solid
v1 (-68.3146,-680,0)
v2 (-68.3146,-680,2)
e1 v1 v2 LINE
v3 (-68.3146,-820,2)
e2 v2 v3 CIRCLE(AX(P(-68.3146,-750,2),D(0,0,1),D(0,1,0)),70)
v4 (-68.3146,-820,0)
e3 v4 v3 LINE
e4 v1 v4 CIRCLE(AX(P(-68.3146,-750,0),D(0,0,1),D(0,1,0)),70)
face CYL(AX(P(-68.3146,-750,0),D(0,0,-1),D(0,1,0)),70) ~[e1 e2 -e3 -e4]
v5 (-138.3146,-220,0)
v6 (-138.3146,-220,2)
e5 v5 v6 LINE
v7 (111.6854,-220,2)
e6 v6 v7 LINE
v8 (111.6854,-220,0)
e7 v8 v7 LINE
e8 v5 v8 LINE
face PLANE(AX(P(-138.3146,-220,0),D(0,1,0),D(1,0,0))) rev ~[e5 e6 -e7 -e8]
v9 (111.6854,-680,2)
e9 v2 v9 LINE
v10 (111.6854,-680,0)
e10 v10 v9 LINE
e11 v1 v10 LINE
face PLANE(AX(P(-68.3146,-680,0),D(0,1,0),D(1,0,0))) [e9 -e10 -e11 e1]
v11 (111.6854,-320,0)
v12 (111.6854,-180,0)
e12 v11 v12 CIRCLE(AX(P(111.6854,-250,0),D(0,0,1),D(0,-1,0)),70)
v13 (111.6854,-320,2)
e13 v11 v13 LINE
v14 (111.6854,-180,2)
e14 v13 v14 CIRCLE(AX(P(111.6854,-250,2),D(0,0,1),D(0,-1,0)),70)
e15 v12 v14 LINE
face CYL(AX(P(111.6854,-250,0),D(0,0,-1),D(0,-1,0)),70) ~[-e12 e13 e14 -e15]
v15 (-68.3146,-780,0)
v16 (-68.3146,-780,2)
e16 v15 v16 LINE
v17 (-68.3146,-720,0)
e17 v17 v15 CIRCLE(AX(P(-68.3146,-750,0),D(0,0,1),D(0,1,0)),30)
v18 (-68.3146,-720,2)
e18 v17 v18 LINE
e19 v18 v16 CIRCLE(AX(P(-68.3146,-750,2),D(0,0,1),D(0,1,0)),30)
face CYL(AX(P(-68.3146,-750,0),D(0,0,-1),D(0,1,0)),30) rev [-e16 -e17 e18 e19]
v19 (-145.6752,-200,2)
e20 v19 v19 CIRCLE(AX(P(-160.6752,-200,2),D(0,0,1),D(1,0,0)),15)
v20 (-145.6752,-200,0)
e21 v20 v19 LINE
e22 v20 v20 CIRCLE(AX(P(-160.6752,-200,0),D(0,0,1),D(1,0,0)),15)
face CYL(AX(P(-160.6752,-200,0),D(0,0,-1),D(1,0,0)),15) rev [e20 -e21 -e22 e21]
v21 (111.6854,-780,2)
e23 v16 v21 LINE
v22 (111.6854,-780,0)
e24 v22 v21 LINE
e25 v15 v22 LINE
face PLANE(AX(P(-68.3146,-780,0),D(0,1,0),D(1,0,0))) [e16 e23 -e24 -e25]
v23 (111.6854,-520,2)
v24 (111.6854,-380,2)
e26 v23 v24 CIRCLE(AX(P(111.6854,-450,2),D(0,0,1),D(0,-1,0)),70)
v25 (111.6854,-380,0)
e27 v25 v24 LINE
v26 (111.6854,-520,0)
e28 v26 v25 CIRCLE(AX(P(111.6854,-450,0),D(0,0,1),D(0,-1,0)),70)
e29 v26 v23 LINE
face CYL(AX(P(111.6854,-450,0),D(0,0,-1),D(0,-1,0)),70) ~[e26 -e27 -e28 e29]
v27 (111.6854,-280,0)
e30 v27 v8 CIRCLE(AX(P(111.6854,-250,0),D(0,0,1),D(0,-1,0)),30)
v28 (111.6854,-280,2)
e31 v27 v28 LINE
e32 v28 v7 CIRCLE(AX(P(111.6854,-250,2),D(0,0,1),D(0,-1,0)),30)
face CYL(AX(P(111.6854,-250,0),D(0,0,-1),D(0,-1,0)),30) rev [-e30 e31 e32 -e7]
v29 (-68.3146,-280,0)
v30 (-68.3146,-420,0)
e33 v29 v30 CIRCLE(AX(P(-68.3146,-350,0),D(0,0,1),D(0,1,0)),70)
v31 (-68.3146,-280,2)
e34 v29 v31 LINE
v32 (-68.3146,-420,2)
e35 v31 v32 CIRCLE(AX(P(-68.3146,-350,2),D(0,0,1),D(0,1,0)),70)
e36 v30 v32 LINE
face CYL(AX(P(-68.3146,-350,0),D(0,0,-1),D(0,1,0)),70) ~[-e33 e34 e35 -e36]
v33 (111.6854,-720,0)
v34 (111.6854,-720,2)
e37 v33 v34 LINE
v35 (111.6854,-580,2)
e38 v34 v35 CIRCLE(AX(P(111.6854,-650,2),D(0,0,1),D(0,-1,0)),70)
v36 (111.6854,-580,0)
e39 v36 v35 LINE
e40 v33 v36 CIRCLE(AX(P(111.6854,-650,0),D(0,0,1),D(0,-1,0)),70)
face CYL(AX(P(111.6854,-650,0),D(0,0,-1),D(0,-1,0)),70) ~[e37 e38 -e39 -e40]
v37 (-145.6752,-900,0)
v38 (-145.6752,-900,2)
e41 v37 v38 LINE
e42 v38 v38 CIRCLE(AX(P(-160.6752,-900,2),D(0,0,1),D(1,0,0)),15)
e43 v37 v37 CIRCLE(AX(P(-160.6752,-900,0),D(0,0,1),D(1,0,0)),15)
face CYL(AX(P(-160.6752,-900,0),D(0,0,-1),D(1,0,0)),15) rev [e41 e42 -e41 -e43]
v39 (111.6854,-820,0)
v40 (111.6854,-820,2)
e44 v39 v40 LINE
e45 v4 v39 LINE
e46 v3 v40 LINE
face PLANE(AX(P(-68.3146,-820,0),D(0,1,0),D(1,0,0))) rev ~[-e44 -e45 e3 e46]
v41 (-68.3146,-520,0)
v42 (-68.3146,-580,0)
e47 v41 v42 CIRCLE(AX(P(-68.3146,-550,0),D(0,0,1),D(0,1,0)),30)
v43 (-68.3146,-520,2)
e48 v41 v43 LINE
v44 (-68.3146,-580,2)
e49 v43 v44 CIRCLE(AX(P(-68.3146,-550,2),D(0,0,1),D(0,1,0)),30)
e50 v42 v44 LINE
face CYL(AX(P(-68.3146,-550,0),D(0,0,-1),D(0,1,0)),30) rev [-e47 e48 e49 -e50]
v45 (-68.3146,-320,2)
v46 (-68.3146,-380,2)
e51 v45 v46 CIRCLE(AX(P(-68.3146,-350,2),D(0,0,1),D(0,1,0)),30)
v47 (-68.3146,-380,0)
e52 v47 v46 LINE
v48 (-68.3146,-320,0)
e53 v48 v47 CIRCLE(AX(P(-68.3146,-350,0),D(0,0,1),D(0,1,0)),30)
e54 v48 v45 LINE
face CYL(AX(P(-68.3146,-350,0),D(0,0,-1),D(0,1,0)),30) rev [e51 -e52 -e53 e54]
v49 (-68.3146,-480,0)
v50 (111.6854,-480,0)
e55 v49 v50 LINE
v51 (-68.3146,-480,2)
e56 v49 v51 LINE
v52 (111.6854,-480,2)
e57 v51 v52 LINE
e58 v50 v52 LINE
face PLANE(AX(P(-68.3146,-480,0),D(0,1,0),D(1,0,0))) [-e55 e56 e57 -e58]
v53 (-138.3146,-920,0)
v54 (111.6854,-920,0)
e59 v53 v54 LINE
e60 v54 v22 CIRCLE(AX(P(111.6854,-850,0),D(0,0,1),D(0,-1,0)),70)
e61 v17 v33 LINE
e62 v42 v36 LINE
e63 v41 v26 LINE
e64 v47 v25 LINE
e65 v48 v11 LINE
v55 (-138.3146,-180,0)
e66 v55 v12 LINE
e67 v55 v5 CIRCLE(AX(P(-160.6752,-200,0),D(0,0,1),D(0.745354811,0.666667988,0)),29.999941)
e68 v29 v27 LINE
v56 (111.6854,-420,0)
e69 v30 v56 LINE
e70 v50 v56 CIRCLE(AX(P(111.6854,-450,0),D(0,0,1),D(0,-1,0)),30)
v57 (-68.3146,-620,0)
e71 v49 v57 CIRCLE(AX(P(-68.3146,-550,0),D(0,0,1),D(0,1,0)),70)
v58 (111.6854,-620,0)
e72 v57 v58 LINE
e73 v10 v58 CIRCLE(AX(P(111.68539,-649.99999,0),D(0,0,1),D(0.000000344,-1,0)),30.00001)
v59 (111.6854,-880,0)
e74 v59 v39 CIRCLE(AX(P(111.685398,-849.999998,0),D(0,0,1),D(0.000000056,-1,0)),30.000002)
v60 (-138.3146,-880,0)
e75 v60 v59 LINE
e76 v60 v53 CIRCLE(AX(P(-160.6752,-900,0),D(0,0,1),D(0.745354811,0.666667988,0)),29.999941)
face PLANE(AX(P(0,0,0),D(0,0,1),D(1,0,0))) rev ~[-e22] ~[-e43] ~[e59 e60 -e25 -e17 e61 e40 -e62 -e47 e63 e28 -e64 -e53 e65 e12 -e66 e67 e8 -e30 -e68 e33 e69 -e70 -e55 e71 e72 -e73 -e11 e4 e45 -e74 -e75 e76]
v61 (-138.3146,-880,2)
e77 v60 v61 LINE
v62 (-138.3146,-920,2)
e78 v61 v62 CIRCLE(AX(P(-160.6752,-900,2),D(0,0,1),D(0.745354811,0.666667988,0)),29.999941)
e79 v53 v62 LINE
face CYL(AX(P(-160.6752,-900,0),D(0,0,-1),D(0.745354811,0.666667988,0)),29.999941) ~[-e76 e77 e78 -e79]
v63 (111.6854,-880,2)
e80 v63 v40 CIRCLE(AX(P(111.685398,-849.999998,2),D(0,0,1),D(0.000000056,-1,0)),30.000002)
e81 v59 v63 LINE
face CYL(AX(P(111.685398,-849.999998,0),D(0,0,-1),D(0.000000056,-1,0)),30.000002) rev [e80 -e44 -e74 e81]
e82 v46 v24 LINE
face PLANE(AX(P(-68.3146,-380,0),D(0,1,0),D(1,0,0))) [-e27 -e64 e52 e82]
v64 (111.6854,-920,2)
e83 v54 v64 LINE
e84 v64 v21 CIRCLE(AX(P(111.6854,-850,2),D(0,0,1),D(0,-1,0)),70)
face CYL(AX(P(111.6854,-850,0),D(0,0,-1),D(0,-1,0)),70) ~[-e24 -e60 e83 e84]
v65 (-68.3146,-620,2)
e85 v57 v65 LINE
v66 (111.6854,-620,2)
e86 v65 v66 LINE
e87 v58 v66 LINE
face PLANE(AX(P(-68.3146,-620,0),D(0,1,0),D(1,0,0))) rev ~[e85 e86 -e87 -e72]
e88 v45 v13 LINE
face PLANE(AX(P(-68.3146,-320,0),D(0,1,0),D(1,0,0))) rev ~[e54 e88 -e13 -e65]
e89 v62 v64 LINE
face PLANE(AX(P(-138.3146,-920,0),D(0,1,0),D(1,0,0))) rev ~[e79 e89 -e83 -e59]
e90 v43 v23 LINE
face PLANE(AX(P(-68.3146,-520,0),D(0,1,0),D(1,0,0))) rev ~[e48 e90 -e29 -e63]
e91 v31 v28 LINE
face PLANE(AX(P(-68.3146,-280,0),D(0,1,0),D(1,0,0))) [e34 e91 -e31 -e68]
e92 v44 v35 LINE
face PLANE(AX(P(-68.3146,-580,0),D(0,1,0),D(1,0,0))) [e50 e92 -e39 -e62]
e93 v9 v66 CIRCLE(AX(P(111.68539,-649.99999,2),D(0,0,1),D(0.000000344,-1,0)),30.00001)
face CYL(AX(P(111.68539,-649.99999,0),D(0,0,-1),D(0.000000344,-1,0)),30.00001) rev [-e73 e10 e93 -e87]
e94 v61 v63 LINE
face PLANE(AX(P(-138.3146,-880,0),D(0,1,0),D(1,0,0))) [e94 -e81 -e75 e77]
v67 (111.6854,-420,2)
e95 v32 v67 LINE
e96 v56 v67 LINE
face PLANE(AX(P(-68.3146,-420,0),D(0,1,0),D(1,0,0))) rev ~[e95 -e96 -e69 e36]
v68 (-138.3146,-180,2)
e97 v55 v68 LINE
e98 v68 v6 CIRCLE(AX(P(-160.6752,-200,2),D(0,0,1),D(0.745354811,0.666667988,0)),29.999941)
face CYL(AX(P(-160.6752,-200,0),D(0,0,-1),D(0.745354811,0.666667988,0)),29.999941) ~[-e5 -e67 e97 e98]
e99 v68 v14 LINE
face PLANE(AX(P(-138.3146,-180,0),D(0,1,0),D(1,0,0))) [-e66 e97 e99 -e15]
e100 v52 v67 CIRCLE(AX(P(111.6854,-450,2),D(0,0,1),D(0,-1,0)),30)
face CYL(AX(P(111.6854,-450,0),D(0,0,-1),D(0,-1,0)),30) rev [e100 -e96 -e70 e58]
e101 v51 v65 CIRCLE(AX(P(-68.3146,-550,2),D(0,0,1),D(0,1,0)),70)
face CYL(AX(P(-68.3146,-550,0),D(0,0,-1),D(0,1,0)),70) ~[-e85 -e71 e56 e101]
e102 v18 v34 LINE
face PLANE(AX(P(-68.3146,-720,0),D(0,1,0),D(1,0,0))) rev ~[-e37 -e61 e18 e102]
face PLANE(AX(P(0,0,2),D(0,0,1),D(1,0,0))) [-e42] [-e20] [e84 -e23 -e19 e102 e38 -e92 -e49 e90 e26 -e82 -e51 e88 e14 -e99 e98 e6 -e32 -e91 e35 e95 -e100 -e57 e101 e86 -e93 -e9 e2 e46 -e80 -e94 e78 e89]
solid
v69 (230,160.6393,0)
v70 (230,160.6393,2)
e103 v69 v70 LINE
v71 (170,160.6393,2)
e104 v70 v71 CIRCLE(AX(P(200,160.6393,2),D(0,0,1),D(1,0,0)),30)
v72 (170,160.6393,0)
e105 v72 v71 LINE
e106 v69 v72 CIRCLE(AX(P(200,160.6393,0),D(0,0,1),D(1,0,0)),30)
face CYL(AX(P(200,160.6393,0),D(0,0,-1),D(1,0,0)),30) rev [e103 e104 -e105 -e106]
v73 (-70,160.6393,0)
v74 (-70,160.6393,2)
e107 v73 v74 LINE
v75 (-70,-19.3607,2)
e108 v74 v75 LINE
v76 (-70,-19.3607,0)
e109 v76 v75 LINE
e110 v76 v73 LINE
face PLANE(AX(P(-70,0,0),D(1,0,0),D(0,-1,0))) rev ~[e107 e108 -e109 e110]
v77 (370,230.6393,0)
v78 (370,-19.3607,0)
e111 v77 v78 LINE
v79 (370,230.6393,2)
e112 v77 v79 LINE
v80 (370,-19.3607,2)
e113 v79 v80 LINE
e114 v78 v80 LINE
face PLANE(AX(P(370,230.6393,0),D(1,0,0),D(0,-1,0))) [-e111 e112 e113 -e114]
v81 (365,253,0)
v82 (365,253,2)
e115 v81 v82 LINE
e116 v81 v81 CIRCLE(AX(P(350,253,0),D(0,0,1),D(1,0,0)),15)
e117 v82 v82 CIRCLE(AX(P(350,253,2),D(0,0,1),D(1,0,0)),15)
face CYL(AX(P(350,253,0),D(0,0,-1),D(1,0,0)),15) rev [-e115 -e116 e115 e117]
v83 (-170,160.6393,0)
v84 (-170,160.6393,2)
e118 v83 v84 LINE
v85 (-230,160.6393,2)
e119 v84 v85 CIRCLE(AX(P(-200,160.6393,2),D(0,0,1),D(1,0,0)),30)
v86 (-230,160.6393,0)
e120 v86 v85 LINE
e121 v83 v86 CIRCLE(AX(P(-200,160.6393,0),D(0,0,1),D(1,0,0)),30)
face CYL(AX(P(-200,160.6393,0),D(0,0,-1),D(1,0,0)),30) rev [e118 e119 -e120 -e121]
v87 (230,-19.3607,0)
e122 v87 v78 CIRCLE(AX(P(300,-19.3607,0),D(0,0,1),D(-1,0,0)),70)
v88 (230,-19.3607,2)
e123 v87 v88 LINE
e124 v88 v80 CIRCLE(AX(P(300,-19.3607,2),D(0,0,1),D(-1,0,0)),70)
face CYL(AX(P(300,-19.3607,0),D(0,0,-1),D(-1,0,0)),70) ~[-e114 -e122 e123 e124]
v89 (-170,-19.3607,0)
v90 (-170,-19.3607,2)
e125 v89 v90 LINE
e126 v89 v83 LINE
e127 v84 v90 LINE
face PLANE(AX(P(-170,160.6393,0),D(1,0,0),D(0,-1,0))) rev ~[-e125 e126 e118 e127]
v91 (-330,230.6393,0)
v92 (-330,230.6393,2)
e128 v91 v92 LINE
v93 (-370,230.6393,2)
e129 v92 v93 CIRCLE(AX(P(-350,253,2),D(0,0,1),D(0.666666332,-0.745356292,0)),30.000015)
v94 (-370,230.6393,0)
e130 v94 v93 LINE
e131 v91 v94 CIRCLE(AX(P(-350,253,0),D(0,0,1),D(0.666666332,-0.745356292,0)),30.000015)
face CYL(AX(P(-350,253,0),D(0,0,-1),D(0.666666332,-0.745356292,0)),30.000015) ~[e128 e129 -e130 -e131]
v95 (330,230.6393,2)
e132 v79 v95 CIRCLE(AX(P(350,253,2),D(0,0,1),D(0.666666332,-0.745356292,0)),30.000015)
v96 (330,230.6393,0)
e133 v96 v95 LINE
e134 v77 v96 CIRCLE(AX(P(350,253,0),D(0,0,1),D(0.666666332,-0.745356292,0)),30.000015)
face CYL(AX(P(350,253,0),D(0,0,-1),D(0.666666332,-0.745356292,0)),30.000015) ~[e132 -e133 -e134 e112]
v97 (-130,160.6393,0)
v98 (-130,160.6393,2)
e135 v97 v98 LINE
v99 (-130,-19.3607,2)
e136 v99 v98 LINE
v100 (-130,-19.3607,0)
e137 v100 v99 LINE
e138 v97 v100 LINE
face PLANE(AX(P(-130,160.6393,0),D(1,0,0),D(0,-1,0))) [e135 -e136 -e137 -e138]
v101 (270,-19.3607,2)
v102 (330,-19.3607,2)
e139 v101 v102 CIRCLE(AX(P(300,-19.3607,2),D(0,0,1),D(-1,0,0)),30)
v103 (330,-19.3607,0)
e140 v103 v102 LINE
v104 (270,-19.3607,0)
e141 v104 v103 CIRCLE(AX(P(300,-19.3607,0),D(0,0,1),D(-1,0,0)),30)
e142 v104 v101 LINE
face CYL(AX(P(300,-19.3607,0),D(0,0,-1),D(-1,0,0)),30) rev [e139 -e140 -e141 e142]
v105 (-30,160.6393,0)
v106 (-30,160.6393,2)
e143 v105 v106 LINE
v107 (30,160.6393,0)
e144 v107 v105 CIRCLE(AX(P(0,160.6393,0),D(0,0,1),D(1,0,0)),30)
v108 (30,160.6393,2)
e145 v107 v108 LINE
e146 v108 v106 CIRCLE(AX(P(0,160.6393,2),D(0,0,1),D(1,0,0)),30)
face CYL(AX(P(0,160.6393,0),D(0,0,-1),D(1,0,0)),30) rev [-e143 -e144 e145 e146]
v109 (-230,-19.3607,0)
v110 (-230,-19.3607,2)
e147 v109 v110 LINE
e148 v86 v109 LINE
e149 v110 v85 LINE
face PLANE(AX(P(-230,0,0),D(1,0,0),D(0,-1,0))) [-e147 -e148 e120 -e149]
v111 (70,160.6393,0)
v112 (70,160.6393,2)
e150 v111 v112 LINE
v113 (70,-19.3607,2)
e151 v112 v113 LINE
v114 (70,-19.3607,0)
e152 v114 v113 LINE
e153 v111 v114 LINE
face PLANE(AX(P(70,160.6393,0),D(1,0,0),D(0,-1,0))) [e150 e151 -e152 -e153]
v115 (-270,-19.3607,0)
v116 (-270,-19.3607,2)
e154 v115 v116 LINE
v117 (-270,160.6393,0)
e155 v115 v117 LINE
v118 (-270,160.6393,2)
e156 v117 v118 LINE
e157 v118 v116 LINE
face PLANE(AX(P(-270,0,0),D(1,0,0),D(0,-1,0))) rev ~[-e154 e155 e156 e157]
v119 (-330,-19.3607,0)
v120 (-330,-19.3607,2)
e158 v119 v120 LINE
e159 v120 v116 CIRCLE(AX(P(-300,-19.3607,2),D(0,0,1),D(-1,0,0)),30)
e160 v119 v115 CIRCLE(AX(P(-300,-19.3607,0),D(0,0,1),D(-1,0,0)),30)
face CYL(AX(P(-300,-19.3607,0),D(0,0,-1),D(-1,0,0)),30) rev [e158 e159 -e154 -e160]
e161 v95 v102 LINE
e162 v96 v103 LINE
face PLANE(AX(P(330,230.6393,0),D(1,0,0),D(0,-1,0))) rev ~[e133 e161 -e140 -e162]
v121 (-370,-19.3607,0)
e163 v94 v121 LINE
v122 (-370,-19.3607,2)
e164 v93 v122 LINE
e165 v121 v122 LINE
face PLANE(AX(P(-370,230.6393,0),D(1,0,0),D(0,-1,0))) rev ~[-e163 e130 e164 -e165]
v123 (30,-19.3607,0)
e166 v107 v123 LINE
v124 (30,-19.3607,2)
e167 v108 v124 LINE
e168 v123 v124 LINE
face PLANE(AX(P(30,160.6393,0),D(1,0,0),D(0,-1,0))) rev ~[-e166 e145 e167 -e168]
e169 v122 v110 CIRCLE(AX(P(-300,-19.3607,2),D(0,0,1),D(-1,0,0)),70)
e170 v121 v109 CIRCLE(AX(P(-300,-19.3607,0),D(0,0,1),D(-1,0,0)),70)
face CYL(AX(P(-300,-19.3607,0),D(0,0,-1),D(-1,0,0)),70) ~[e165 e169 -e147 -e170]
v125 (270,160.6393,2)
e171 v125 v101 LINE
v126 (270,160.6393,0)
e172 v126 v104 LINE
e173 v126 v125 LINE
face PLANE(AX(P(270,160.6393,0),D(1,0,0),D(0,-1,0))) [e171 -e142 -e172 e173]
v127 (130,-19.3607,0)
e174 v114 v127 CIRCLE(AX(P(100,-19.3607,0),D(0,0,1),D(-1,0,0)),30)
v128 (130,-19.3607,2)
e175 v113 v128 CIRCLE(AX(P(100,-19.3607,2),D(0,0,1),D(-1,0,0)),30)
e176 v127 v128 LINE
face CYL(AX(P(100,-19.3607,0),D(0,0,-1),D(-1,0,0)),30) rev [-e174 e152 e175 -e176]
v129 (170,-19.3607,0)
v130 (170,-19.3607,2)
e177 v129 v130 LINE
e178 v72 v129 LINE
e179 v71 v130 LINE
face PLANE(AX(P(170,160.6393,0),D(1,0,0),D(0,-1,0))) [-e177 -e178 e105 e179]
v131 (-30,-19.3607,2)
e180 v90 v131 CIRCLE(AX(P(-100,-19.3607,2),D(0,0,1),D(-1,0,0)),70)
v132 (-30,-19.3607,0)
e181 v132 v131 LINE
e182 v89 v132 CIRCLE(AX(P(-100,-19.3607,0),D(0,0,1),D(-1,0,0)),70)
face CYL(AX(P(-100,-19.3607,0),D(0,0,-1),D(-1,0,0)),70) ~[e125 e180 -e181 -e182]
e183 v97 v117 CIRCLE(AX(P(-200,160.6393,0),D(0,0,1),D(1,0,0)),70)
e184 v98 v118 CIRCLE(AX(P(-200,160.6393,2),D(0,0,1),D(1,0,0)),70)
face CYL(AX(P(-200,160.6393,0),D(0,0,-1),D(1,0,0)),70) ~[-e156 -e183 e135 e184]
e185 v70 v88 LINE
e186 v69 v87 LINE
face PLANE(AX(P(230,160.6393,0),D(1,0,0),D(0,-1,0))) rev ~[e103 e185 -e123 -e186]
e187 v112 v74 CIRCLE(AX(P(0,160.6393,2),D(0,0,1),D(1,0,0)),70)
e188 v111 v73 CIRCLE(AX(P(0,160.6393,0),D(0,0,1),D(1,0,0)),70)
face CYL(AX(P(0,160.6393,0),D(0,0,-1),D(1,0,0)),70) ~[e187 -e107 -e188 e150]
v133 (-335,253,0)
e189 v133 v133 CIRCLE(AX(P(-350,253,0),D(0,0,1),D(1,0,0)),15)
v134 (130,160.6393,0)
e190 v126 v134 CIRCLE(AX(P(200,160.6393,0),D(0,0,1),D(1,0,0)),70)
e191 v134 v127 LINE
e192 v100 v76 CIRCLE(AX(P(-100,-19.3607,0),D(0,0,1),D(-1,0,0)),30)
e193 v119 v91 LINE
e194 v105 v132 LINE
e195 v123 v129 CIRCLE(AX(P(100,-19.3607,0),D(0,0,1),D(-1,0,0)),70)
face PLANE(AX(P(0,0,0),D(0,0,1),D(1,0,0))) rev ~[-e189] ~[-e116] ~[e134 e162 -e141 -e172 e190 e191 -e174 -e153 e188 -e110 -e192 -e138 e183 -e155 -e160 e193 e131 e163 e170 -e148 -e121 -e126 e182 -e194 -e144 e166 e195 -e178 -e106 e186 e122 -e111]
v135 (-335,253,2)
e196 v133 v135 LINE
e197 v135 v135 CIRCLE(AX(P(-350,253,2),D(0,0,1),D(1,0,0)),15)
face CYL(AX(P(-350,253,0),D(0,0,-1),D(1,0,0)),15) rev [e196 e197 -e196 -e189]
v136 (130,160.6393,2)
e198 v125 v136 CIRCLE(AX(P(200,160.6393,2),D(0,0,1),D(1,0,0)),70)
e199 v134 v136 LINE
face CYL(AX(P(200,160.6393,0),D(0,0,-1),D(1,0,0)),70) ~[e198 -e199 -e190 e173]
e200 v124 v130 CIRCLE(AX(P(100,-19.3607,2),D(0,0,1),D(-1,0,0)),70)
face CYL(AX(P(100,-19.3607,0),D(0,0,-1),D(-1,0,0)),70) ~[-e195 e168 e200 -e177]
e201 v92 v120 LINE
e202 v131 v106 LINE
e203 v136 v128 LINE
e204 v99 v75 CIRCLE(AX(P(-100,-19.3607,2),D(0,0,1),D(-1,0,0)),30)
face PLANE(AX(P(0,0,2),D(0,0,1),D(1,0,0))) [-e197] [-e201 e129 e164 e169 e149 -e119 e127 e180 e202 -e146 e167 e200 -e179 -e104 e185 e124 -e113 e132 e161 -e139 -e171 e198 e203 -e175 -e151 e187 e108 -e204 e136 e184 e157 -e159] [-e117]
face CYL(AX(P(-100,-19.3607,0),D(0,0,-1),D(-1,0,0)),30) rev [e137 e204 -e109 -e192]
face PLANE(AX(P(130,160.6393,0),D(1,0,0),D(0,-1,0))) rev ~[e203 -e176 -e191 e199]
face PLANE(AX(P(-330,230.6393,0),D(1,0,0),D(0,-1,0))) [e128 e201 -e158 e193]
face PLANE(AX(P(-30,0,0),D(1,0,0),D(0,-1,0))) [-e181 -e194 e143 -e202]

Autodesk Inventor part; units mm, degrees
ref_plane "YZ Plane" through (0, 0, 0) normal (1, 0, 0) x (0, 1, 0)
ref_plane "XZ Plane" through (0, 0, 0) normal (0, 1, 0) x (-1, 0, 0)
ref_plane "XY Plane" through (0, 0, 0) normal (0, 0, 1) x (1, 0, 0)
sketch "Esboço1" plane through (0, 0, 0) normal (0, 0, 1) x (1, 0, 0)
  circle A0 centre (-350, 253) radius 30 construction
  line L0 (0, 0) -> (0, 0) construction
  line L1 (0, 0) -> (0, 0) construction
  circle A1 centre (-350, 253) radius 15
  line L2 (-370, 230.6393) -> (-370, -19.3607)
  line L3 (-330, 230.6393) -> (-330, -19.3607)
  arc A2 (-330, 230.6393) -> (-370, 230.6393) centre (-350, 253) ccw
  circle A3 centre (-300, -19.3607) radius 30 construction
  line L4 (-270, 160.6393) -> (-270, -19.3607)
  line L5 (-230, 160.6393) -> (-230, -19.3607)
  circle A4 centre (-300, -19.3607) radius 70 construction
  arc A5 (-370, -19.3607) -> (-230, -19.3607) centre (-300, -19.3607) ccw
  arc A6 (-330, -19.3607) -> (-270, -19.3607) centre (-300, -19.3607) ccw
  line L6 (-330, 230.6393) -> (0, 230.6393) construction
  circle A7 centre (-200, 160.6393) radius 30 construction
  circle A8 centre (-200, 160.6393) radius 70 construction
  line L7 (-170, 160.6393) -> (-170, -19.3607)
  line L8 (-130, 160.6393) -> (-130, -19.3607)
  arc A9 (-170, 160.6393) -> (-230, 160.6393) centre (-200, 160.6393) ccw
  arc A10 (-130, 160.6393) -> (-270, 160.6393) centre (-200, 160.6393) ccw
  circle A11 centre (-100, -19.3607) radius 30 construction
  circle A12 centre (-100, -19.3607) radius 70 construction
  arc A13 (-130, -19.3607) -> (-70, -19.3607) centre (-100, -19.3607) ccw
  arc A14 (-170, -19.3607) -> (-30, -19.3607) centre (-100, -19.3607) ccw
  line L9 (-70, 160.6393) -> (-70, -19.3607)
  line L10 (-30, 160.6393) -> (-30, -19.3607)
  circle A15 centre (0, 160.6393) radius 30 construction
  circle A16 centre (0, 160.6393) radius 70 construction
  arc A17 (30, 160.6393) -> (-30, 160.6393) centre (0, 160.6393) ccw
  arc A18 (70, 160.6393) -> (-70, 160.6393) centre (0, 160.6393) ccw
  line L11 (70, 160.6393) -> (70, -19.3607)
  line L12 (30, 160.6393) -> (30, -19.3607)
  circle A19 centre (100, -19.3607) radius 30 construction
  circle A20 centre (100, -19.3607) radius 70 construction
  arc A21 (70, -19.3607) -> (130, -19.3607) centre (100, -19.3607) ccw
  arc A22 (30, -19.3607) -> (170, -19.3607) centre (100, -19.3607) ccw
  line L13 (130, 160.6393) -> (130, -19.3607)
  line L14 (170, 160.6393) -> (170, -19.3607)
  circle A23 centre (200, 160.6393) radius 30 construction
  circle A24 centre (200, 160.6393) radius 70 construction
  arc A25 (230, 160.6393) -> (170, 160.6393) centre (200, 160.6393) ccw
  arc A26 (270, 160.6393) -> (130, 160.6393) centre (200, 160.6393) ccw
  line L15 (230, 160.6393) -> (230, -19.3607)
  line L16 (270, 160.6393) -> (270, -19.3607)
  circle A27 centre (300, -19.3607) radius 30 construction
  circle A28 centre (300, -19.3607) radius 70 construction
  arc A29 (270, -19.3607) -> (330, -19.3607) centre (300, -19.3607) ccw
  arc A30 (230, -19.3607) -> (370, -19.3607) centre (300, -19.3607) ccw
  line L17 (330, 230.6393) -> (330, -19.3607)
  line L18 (370, 230.6393) -> (370, -19.3607)
  circle A31 centre (350, 253) radius 30 construction
  arc A32 (370, 230.6393) -> (330, 230.6393) centre (350, 253) ccw
  circle A33 centre (350, 253) radius 15
  line L19 (-350, 253) -> (350, 253) construction
  circle A34 centre (-160.6752, -200) radius 30 construction
  line L20 (0, 0) -> (-350, 0)
  circle A35 centre (-160.6752, -200) radius 15
  line L21 (-138.3146, -180) -> (111.6854, -180)
  line L22 (-138.3146, -220) -> (111.6854, -220)
  arc A36 (-138.3146, -180) -> (-138.3146, -220) centre (-160.6752, -200) ccw
  circle A37 centre (111.6854, -250) radius 30 construction
  circle A38 centre (111.6854, -250) radius 70 construction
  arc A39 (111.6854, -280) -> (111.6854, -220) centre (111.6854, -250) ccw
  arc A40 (111.6854, -320) -> (111.6854, -180) centre (111.6854, -250) ccw
  line L23 (-68.3146, -280) -> (111.6854, -280)
  line L24 (-68.3146, -320) -> (111.6854, -320)
  circle A41 centre (-68.3146, -350) radius 30 construction
  arc A42 (-68.3146, -320) -> (-68.3146, -380) centre (-68.3146, -350) ccw
  circle A43 centre (-68.3146, -350) radius 70 construction
  arc A44 (-68.3146, -280) -> (-68.3146, -420) centre (-68.3146, -350) ccw
  line L25 (-68.3146, -380) -> (111.6854, -380)
  line L26 (-68.3146, -420) -> (111.6854, -420)
  circle A45 centre (111.6854, -450) radius 30 construction
  circle A46 centre (111.6854, -450) radius 70 construction
  arc A47 (111.6854, -480) -> (111.6854, -420) centre (111.6854, -450) ccw
  arc A48 (111.6854, -520) -> (111.6854, -380) centre (111.6854, -450) ccw
  line L27 (-68.3146, -480) -> (111.6854, -480)
  line L28 (-68.3146, -520) -> (111.6854, -520)
  circle A49 centre (-68.3146, -550) radius 30 construction
  circle A50 centre (-68.3146, -550) radius 70 construction
  arc A51 (-68.3146, -520) -> (-68.3146, -580) centre (-68.3146, -550) ccw
  arc A52 (-68.3146, -480) -> (-68.3146, -620) centre (-68.3146, -550) ccw
  line L29 (-68.3146, -580) -> (111.6854, -580)
  line L30 (-68.3146, -620) -> (111.6854, -620)
  circle A53 centre (111.6854, -650) radius 30 construction
  circle A54 centre (111.6854, -650) radius 70 construction
  arc A55 (111.6854, -680) -> (108.1175, -620.2129) centre (111.6854, -650) ccw
  arc A56 (111.6854, -720) -> (111.6854, -580) centre (111.6854, -650) ccw
  line L31 (-68.3146, -720) -> (111.6854, -720)
  line L32 (-68.3146, -680) -> (111.6854, -680)
  circle A57 centre (-68.3146, -750) radius 30 construction
  circle A58 centre (-68.3146, -750) radius 70 construction
  arc A59 (-68.3146, -720) -> (-68.3146, -780) centre (-68.3146, -750) ccw
  arc A60 (-68.3146, -680) -> (-68.3146, -820) centre (-68.3146, -750) ccw
  line L33 (-68.3146, -780) -> (111.6854, -780)
  line L34 (-68.3146, -820) -> (111.6854, -820)
  circle A61 centre (111.6854, -850) radius 30 construction
  circle A62 centre (111.6854, -850) radius 70 construction
  arc A63 (111.6854, -880) -> (105.8073, -820.5815) centre (111.6854, -850) ccw
  arc A64 (111.6854, -920) -> (111.6854, -780) centre (111.6854, -850) ccw
  line L35 (-138.3146, -880) -> (111.6854, -880)
  line L36 (-138.3146, -920) -> (111.6854, -920)
  circle A65 centre (-160.6752, -900) radius 30 construction
  arc A66 (-138.3146, -880) -> (-138.3146, -920) centre (-160.6752, -900) ccw
  circle A67 centre (-160.6752, -900) radius 15
  line L37 (-160.6752, -200) -> (160.6752, -200) construction
  point P0 (-370, 105.6393)
  point P1 (0, 253)
  point P2 (-13.3146, -220)
  point P3 (-13.3146, -180)
  point P4 (0, -200)
  point P5 (-130, -19.3607)
  dimension "d0" = 253
  dimension "d2" = 60
  dimension "d3" = 30
  dimension "d5" = 40
  dimension "d6" = 250
  dimension "d7" = 60
  dimension "d8" = 40
  dimension "d13" = 40
  dimension "d14" = 200
extrude "Extrusão1" add sketch "Esboço1" along normal blind 2 contours A2 L3 A6 L4 L20 L5 A5 L2 | L20 L4 A10 L8 L7 A9 L5 | L20 L8 A13 L9 L10 A14 L7 | L9 A18 L11 A21 L13 A26 L16 A29 L17 A32 L18 A30 L15 A25 L14 A22 L12 A17 L10 L20 | L21 A40 L24 A42 L25 A48 L28 A51 L29 A56 L31 A59 L33 A64 L36 A66 L35 A63 L34 A60 L32 A55 L30 A52 L27 A47 L26 A44 L23 A39 L22 A36
properties part number "sensor_002_001"
